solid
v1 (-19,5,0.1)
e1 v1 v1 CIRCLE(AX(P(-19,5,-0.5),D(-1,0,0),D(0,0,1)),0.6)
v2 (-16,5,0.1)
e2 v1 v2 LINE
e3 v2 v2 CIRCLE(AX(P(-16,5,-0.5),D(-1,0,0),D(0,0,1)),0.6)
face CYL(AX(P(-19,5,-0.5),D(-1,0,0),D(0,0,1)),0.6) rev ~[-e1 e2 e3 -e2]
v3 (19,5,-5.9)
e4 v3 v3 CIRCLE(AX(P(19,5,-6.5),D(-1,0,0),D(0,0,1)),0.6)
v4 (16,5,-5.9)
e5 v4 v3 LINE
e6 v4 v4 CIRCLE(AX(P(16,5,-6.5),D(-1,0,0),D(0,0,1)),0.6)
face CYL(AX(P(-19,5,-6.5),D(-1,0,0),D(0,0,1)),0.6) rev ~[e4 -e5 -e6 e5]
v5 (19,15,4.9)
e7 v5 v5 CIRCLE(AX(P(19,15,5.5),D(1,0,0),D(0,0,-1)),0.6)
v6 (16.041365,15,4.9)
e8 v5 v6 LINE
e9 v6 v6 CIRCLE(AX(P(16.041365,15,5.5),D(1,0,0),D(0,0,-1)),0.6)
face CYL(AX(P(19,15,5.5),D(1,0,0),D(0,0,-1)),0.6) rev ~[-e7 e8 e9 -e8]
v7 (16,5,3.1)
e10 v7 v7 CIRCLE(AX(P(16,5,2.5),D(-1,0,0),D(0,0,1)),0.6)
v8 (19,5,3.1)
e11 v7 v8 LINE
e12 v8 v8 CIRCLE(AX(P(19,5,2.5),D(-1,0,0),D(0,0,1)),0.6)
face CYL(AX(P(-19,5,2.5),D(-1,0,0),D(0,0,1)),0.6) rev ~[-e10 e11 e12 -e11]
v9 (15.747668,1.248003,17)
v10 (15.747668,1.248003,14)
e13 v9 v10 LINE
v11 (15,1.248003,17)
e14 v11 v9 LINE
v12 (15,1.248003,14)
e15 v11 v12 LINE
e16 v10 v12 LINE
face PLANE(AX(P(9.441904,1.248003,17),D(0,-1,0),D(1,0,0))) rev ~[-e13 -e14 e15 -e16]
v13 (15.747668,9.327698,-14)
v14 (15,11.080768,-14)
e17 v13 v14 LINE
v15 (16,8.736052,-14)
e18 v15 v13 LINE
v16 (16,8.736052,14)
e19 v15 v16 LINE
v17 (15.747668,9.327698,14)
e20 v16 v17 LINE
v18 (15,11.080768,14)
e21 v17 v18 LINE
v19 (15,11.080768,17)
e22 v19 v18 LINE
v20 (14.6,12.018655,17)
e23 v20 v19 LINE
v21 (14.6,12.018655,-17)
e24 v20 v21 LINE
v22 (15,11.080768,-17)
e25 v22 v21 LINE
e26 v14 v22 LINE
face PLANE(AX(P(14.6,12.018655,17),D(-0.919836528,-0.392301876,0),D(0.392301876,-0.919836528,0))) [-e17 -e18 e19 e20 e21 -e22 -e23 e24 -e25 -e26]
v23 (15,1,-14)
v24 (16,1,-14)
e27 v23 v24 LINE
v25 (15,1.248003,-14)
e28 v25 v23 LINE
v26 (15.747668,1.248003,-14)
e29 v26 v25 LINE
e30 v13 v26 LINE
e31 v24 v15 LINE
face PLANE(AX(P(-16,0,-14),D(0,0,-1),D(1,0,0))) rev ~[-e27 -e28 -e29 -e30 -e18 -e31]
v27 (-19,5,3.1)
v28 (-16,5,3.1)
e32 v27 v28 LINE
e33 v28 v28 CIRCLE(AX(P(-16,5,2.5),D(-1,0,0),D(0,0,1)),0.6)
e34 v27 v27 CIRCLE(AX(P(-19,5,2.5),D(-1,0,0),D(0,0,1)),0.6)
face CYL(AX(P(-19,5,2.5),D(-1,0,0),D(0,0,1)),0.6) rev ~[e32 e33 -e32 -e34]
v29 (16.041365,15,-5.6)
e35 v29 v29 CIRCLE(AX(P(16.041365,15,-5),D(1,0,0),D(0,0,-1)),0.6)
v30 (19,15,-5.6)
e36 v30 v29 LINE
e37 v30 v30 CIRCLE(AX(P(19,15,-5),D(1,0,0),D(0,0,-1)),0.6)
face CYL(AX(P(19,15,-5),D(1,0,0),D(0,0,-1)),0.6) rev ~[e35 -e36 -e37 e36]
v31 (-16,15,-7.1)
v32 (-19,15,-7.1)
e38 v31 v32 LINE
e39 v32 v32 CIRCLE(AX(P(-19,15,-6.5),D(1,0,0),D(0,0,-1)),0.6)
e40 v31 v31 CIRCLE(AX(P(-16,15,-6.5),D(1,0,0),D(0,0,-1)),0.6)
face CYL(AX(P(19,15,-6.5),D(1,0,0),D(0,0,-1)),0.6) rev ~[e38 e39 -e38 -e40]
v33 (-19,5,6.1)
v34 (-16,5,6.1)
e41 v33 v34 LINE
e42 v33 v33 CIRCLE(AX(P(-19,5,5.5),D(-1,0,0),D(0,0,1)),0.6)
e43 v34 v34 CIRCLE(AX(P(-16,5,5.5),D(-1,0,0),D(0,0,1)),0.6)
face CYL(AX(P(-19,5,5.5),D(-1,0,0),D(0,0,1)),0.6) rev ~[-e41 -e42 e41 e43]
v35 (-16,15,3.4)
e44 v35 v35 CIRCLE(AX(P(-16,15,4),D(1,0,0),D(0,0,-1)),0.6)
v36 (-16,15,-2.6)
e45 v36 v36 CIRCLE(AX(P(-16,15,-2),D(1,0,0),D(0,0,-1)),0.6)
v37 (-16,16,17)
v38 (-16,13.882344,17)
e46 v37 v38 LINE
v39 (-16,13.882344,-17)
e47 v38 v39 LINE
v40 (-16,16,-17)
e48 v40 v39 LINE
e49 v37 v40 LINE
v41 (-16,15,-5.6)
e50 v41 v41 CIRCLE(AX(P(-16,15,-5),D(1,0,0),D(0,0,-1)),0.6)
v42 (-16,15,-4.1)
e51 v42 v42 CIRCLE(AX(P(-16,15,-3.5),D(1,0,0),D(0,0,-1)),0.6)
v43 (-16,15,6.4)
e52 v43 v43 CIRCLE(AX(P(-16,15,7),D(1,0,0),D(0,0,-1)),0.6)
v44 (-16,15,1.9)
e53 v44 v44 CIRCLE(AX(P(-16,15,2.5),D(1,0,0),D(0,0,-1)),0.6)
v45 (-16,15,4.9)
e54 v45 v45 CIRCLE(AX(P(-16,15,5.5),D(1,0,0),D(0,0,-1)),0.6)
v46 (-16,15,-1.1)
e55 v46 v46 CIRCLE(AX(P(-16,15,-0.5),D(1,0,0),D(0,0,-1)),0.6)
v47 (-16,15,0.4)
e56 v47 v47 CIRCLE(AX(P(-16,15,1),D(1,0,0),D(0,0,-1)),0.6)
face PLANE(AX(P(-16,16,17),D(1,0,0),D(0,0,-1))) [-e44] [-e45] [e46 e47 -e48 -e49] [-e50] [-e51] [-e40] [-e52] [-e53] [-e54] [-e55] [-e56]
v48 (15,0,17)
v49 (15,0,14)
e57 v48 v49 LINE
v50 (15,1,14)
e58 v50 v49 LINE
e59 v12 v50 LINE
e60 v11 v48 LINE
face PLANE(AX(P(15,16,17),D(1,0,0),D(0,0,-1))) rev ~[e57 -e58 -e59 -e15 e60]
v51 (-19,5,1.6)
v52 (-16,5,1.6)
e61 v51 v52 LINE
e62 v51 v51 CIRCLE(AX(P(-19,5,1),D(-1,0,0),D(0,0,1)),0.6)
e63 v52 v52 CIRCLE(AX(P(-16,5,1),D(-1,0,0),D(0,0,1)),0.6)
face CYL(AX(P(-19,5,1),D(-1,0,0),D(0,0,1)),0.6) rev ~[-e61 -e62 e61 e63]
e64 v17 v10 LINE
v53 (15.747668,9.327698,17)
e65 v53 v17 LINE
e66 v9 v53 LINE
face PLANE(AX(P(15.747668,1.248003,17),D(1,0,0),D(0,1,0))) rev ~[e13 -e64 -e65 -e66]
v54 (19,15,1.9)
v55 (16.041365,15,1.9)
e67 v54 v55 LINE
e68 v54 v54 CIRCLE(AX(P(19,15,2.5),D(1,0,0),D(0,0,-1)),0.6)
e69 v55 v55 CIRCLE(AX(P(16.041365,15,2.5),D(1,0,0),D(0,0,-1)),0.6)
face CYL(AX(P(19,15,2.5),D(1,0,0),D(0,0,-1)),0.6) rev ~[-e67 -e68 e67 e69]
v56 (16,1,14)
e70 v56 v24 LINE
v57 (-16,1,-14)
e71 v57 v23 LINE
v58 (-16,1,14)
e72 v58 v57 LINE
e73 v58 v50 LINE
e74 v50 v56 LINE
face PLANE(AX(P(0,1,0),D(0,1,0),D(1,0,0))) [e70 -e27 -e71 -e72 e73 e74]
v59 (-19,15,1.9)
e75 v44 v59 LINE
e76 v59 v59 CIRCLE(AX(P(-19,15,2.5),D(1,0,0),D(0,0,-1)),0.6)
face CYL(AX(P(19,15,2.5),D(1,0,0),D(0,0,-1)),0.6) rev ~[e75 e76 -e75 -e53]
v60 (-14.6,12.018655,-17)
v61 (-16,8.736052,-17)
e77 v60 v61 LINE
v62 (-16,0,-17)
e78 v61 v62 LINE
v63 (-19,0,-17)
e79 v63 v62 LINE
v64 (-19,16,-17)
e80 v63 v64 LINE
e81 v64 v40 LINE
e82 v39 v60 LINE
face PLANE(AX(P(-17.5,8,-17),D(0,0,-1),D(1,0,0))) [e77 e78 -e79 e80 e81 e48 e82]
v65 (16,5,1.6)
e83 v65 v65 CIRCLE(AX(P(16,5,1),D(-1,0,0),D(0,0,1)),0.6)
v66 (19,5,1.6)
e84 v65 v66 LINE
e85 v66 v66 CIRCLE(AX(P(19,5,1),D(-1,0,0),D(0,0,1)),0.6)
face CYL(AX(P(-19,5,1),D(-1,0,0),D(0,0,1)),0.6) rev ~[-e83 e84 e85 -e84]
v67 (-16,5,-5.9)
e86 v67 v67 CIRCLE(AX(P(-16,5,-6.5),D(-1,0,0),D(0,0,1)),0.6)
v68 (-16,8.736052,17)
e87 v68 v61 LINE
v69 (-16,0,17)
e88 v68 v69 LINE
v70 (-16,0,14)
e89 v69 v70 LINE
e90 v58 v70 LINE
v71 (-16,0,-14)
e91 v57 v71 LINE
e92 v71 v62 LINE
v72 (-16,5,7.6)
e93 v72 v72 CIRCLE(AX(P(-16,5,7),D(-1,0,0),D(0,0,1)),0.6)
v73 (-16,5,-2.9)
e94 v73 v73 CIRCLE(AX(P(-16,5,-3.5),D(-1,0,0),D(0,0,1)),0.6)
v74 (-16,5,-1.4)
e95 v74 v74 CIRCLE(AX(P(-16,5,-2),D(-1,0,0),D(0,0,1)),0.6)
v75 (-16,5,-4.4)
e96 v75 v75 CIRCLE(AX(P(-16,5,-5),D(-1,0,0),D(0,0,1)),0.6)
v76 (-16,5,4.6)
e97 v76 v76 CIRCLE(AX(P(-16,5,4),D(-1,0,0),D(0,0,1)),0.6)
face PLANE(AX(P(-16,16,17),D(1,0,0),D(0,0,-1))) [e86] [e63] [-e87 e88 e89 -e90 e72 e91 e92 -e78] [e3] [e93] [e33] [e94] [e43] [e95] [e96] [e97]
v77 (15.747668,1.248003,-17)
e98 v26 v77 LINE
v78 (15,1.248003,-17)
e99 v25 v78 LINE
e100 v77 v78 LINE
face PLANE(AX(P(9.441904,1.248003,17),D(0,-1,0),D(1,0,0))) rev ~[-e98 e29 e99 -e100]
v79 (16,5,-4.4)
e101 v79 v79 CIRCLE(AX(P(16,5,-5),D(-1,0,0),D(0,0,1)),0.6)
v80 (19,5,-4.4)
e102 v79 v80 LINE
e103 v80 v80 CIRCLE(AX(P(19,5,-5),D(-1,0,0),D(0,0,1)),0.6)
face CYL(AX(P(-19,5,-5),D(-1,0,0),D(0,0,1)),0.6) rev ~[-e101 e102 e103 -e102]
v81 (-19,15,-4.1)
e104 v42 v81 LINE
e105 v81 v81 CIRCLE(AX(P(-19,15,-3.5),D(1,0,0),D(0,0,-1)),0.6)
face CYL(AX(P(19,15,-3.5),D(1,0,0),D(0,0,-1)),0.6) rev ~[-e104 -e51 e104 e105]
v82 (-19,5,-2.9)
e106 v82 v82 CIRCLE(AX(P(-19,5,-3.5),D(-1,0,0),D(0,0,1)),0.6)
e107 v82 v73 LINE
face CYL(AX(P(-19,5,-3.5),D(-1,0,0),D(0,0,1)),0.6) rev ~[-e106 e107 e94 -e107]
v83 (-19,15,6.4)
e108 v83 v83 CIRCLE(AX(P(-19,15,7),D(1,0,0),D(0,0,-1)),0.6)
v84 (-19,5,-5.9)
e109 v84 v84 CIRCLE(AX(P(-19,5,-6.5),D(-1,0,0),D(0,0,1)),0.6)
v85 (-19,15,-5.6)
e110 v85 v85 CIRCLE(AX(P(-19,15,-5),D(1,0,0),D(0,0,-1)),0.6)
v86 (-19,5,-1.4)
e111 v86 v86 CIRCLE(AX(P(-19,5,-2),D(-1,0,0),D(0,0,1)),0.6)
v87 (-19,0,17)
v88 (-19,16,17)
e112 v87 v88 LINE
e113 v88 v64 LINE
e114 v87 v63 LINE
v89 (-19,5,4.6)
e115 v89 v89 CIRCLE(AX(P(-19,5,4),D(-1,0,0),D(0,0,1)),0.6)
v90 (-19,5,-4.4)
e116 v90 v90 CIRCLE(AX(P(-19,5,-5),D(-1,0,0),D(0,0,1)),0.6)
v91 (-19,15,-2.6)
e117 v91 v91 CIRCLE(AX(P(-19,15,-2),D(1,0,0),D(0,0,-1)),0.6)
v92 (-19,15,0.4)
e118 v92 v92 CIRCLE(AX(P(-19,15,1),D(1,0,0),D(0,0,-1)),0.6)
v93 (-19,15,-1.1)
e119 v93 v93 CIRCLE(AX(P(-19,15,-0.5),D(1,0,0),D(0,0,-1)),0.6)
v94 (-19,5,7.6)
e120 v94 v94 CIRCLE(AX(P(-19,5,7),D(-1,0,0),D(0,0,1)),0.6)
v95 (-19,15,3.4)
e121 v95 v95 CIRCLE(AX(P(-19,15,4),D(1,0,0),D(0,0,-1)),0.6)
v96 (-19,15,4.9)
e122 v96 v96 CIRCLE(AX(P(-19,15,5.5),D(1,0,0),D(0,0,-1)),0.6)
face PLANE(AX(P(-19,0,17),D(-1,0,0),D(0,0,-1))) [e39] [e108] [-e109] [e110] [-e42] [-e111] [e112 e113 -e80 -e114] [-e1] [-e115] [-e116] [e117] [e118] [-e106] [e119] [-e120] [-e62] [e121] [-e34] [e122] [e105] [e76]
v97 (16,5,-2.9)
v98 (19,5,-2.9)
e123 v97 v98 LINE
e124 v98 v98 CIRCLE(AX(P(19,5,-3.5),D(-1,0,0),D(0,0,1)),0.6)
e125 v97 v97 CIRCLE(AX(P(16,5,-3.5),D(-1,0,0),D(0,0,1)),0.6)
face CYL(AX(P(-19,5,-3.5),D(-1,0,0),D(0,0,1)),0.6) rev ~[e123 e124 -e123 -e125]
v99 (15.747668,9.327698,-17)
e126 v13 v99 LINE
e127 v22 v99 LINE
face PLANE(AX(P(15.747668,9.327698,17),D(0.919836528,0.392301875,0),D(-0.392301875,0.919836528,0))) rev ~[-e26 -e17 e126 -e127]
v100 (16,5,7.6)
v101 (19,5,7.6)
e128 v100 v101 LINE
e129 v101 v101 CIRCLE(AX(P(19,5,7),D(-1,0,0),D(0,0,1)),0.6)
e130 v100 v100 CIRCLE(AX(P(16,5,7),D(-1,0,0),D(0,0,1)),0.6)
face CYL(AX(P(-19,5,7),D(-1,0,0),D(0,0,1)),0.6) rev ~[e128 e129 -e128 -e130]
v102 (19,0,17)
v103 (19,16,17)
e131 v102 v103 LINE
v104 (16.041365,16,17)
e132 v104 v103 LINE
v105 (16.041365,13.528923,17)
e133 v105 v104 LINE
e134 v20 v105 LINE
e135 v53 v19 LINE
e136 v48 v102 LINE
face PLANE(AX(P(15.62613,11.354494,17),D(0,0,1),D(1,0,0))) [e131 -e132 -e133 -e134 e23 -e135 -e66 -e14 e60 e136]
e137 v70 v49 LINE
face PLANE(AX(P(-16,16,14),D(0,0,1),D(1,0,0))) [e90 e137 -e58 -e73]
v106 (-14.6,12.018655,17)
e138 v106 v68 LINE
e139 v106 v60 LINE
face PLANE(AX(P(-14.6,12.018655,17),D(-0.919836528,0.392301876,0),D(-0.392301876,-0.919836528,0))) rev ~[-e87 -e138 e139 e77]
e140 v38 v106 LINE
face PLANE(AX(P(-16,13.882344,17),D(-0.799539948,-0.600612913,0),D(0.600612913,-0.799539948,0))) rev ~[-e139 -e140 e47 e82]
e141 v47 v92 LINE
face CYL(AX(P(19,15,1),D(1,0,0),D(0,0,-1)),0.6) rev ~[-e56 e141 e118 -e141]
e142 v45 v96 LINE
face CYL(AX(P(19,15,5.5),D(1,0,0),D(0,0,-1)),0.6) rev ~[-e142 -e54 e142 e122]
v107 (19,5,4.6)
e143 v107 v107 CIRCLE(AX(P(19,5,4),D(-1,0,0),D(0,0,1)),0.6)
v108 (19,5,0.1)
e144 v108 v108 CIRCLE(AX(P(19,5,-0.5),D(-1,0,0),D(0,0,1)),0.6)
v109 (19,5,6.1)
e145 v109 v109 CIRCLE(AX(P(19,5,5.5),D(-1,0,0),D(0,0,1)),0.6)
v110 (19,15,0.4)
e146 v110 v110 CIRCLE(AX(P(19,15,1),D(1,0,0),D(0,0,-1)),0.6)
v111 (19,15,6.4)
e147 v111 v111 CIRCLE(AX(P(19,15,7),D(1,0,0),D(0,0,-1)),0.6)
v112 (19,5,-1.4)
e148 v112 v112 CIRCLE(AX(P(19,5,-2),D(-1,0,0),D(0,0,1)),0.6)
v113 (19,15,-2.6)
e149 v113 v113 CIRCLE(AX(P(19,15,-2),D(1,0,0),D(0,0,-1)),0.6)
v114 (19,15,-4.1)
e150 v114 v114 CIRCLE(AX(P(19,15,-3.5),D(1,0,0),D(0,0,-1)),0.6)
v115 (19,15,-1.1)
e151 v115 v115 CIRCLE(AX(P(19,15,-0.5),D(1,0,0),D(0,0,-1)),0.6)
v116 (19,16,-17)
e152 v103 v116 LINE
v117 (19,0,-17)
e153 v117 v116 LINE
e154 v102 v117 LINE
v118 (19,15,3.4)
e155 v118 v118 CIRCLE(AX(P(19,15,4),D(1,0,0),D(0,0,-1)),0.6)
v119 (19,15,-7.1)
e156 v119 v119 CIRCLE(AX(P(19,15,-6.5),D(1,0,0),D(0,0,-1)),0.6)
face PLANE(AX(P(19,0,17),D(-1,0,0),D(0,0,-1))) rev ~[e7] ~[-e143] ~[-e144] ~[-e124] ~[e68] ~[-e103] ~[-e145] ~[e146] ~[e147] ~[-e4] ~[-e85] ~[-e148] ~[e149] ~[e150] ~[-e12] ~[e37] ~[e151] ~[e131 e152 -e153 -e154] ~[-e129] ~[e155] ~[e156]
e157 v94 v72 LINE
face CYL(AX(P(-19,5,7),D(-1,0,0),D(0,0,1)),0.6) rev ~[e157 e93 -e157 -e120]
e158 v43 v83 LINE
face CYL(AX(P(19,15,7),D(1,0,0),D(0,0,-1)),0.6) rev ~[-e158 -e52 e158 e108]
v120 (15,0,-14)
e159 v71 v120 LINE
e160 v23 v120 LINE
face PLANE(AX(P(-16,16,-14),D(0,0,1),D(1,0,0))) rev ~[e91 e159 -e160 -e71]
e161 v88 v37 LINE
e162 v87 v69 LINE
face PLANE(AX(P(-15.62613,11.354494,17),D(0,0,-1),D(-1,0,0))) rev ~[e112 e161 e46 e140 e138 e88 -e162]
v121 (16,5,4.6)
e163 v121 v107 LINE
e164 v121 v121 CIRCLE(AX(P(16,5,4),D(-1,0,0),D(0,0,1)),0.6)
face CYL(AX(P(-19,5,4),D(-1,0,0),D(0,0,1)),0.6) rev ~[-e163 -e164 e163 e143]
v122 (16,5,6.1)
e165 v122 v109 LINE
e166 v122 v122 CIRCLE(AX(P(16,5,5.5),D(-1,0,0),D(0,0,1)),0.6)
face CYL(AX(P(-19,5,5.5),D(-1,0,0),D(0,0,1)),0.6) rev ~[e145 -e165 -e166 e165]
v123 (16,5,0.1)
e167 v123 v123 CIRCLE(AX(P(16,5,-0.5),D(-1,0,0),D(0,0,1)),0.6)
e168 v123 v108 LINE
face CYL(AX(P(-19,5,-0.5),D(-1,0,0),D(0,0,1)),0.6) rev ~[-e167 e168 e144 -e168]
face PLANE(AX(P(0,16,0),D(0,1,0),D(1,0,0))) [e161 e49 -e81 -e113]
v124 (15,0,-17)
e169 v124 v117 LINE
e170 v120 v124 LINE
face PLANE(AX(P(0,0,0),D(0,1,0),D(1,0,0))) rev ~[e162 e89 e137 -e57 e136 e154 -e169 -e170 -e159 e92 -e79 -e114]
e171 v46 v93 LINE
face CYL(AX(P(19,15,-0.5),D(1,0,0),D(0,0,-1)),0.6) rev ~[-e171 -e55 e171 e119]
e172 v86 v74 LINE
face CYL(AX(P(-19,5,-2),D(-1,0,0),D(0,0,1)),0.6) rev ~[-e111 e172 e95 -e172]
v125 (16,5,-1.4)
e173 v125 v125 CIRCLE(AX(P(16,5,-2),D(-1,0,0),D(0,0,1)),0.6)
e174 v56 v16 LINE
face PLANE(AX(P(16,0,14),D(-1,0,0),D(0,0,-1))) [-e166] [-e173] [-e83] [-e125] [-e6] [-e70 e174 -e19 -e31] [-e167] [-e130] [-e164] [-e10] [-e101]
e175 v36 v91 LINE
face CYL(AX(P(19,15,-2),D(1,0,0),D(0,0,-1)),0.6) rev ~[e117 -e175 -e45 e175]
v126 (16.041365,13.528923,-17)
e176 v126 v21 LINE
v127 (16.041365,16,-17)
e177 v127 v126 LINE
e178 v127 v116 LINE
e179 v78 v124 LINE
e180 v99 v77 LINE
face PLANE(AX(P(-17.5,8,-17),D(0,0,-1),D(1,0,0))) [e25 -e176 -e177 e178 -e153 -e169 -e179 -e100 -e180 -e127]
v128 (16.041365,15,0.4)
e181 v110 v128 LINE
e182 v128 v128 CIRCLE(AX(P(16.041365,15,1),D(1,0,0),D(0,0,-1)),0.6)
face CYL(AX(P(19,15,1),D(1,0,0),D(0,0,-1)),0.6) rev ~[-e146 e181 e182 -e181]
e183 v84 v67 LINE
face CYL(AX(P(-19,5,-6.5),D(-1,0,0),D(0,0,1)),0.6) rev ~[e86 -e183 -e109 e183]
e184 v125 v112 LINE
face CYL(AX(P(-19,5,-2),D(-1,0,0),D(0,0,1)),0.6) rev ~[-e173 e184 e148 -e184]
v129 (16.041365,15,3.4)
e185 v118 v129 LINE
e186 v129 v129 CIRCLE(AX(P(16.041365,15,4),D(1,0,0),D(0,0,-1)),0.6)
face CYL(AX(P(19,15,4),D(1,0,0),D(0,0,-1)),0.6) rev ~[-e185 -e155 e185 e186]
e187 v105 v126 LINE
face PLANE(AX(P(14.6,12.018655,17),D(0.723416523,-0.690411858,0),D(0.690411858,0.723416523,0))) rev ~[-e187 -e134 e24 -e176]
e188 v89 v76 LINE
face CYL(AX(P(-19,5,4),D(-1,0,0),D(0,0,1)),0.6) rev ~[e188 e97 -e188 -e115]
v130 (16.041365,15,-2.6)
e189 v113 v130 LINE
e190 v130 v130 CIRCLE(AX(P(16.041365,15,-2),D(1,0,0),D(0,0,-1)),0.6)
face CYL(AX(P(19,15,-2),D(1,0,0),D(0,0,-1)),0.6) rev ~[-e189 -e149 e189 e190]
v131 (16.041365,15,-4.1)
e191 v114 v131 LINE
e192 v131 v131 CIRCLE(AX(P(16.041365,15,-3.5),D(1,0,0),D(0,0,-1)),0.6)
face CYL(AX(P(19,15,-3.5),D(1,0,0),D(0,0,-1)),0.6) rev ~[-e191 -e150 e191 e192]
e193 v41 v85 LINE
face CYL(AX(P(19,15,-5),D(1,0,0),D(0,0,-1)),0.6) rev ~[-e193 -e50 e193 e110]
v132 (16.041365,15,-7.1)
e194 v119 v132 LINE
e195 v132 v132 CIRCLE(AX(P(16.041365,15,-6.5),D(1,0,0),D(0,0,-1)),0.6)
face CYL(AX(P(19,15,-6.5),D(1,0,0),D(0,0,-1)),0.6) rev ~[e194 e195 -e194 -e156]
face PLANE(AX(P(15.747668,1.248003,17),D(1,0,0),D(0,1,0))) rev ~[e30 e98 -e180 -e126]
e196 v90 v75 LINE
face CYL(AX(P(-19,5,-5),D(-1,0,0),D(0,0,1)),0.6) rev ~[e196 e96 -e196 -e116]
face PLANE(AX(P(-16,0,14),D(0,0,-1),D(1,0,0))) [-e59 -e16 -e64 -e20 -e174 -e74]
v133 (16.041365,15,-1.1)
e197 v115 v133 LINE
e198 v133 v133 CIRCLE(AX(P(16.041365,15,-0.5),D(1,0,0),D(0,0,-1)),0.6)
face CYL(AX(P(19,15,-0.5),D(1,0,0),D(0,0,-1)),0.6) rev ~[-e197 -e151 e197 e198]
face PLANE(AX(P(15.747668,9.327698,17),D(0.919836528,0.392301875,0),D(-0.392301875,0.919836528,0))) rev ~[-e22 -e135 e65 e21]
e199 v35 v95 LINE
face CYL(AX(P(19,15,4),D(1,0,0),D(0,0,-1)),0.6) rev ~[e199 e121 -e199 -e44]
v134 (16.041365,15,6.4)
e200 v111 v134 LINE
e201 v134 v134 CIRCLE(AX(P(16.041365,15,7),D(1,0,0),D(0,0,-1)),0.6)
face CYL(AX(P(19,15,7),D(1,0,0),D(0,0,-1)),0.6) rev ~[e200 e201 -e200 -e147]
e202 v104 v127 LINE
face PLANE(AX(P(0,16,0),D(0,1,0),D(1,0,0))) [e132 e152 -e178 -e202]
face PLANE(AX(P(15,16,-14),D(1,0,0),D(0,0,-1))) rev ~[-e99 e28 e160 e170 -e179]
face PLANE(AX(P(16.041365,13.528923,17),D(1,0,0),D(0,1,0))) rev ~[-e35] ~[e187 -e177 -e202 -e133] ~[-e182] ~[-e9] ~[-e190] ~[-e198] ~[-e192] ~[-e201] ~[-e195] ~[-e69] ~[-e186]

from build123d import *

# Parameters (mm, degrees)
SKETCH1_W           = 32
SKETCH1_H           = 28
BOSS_EXTRUDE1_DEPTH = 1
SKETCH2_W           = 38
SKETCH2_H           = 34
SKETCH2_W_2         = 32
SKETCH2_H_2         = 28
BOSS_EXTRUDE2_DEPTH = 16
SKETCH3_W           = 31
SKETCH3_H           = 3
CUT_EXTRUDE1_DEPTH  = 16
SKETCH4_R           = 0.6
CUT_EXTRUDE2_DEPTH  = 61
BOSS_EXTRUDE3_REACH = 44.107
SKETCH9_R           = 0.6
CUT_EXTRUDE3_DEPTH  = 45
SKETCH10_W          = 20.681714782
SKETCH10_H          = 4.865607423
BOSS_EXTRUDE4_DEPTH = 3
SKETCH11_W          = 20.21758054
SKETCH11_H          = 4.689593046
BOSS_EXTRUDE5_DEPTH = 3
CUT_EXTRUDE5_DEPTH  = 43.107006543


with BuildPart() as part:
    # Sketch1 → Boss-Extrude1 (new body)
    with BuildSketch(Plane(origin=(0, 0, 0), x_dir=(1, 0, 0), z_dir=(0, 1, 0))):
        Rectangle(SKETCH1_W, SKETCH1_H)
    extrude(amount=BOSS_EXTRUDE1_DEPTH)

    # Sketch2 → Boss-Extrude2 (add)
    with BuildSketch(Plane(origin=(0, 0, 0), x_dir=(1, 0, 0), z_dir=(0, 1, 0))):
        Rectangle(SKETCH2_W, SKETCH2_H)
        Rectangle(SKETCH2_W_2, SKETCH2_H_2, mode=Mode.SUBTRACT)
    extrude(amount=BOSS_EXTRUDE2_DEPTH)

    # Sketch3 → Cut-Extrude1 (cut)
    with BuildSketch(Plane(origin=(0, 16, 0), x_dir=(1, 0, 0), z_dir=(0, 1, 0))):
        with Locations((-0.5, 15.5)):
            Rectangle(SKETCH3_W, SKETCH3_H)
        with Locations((-0.5, -15.5)):
            Rectangle(SKETCH3_W, SKETCH3_H)
    extrude(amount=-CUT_EXTRUDE1_DEPTH, mode=Mode.SUBTRACT)

    # Sketch4 → Cut-Extrude2 (cut)
    with BuildSketch(Plane(origin=(19, 0, 0), x_dir=(0, 0, -1), z_dir=(1, 0, 0))):
        with Locations((-7, 15)):
            Circle(SKETCH4_R)
        with Locations((-5.5, 15)):
            Circle(SKETCH4_R)
        with Locations((-4, 15)):
            Circle(SKETCH4_R)
        with Locations((-2.5, 15)):
            Circle(SKETCH4_R)
        with Locations((-1, 15)):
            Circle(SKETCH4_R)
        with Locations((0.5, 15)):
            Circle(SKETCH4_R)
        with Locations((2, 15)):
            Circle(SKETCH4_R)
        with Locations((3.5, 15)):
            Circle(SKETCH4_R)
        with Locations((5, 15)):
            Circle(SKETCH4_R)
        with Locations((6.5, 15)):
            Circle(SKETCH4_R)
        with Locations((-5.5, 10)):
            Circle(SKETCH4_R)
        with Locations((-4, 10)):
            Circle(SKETCH4_R)
        with Locations((-2.5, 10)):
            Circle(SKETCH4_R)
        with Locations((-1, 10)):
            Circle(SKETCH4_R)
        with Locations((0.5, 10)):
            Circle(SKETCH4_R)
        with Locations((2, 10)):
            Circle(SKETCH4_R)
        with Locations((3.5, 10)):
            Circle(SKETCH4_R)
        with Locations((5, 10)):
            Circle(SKETCH4_R)
        with Locations((6.5, 10)):
            Circle(SKETCH4_R)
        with Locations((-7, 10)):
            Circle(SKETCH4_R)
    extrude(amount=-CUT_EXTRUDE2_DEPTH, mode=Mode.SUBTRACT)

    # Boss-Extrude3: up to this face of the body (flat: up to its plane)
    boss_extrude3_end = Plane(part.part.faces().sort_by_distance((-17.5, 8, -17))[0])
    # Sketch6 → Boss-Extrude3 (add, up to the picked face)
    with BuildSketch(Plane.XY.offset(17), mode=Mode.PRIVATE) as boss_extrude3_sk1:
        Polygon((-16, 13.882344073), (-14.6, 12.018654658), (-16, 8.736052102), align=None)
    boss_extrude3_tool1 = split(extrude(boss_extrude3_sk1.sketch, amount=-BOSS_EXTRUDE3_REACH, mode=Mode.PRIVATE), bisect_by=boss_extrude3_end, keep=Keep.BOTH, mode=Mode.PRIVATE)
    # Sketch6 → Boss-Extrude3 (add, up to the picked face)
    with BuildSketch(Plane.XY.offset(17), mode=Mode.PRIVATE) as boss_extrude3_sk2:
        Polygon((14.6, 12.018654658), (16, 8.736052102), (16, 13.882344073), align=None)
    boss_extrude3_tool2 = split(extrude(boss_extrude3_sk2.sketch, amount=-BOSS_EXTRUDE3_REACH, mode=Mode.PRIVATE), bisect_by=boss_extrude3_end, keep=Keep.BOTH, mode=Mode.PRIVATE)
    add(boss_extrude3_tool1.solids().sort_by(Axis((-15.533333, 11.545684, 17), (0, 0, -1)))[0])
    add(boss_extrude3_tool2.solids().sort_by(Axis((15.533333, 11.545684, 17), (0, 0, -1)))[0])

    # Sketch9 → Cut-Extrude3 (cut)
    with BuildSketch(Plane.ZY.offset(19)):
        with Locations((-6.5, 5)):
            Circle(SKETCH9_R)
        with Locations((-5, 5)):
            Circle(SKETCH9_R)
        with Locations((-3.5, 5)):
            Circle(SKETCH9_R)
        with Locations((-2, 5)):
            Circle(SKETCH9_R)
        with Locations((-0.5, 5)):
            Circle(SKETCH9_R)
        with Locations((1, 5)):
            Circle(SKETCH9_R)
        with Locations((2.5, 5)):
            Circle(SKETCH9_R)
        with Locations((4, 5)):
            Circle(SKETCH9_R)
        with Locations((5.5, 5)):
            Circle(SKETCH9_R)
        with Locations((7, 5)):
            Circle(SKETCH9_R)
    extrude(amount=-CUT_EXTRUDE3_DEPTH, mode=Mode.SUBTRACT)

    # Sketch10 → Boss-Extrude4 (add)
    with BuildSketch(Plane.ZY.offset(19)):
        with Locations((1.876379269, 9.706359038)):
            Rectangle(SKETCH10_W, SKETCH10_H)
    extrude(amount=-BOSS_EXTRUDE4_DEPTH)

    # Sketch11 → Boss-Extrude5 (add)
    with BuildSketch(Plane(origin=(19, 0, 0), x_dir=(0, 0, -1), z_dir=(1, 0, 0))):
        with Locations((0.622743722, 10.359232414)):
            Rectangle(SKETCH11_W, SKETCH11_H)
    extrude(amount=-BOSS_EXTRUDE5_DEPTH)

    # Sketch12 → Cut-Extrude5 (cut, through all)
    with BuildSketch(Plane.XY.offset(17)):
        Polygon((14.6, 12.018654658), (16.041364921, 13.52892304), (16.041364921, 16), (15, 16), (13.555828546, 12.018654658), (11.7448085, 12.149887785), (9.441904284, 1.248003239), (15.747668413, 1.248003239), (15.747668413, 9.327698039), (14.882100771, 11.357208436), align=None)
    extrude(amount=-CUT_EXTRUDE5_DEPTH, mode=Mode.SUBTRACT)


solid = part.part
